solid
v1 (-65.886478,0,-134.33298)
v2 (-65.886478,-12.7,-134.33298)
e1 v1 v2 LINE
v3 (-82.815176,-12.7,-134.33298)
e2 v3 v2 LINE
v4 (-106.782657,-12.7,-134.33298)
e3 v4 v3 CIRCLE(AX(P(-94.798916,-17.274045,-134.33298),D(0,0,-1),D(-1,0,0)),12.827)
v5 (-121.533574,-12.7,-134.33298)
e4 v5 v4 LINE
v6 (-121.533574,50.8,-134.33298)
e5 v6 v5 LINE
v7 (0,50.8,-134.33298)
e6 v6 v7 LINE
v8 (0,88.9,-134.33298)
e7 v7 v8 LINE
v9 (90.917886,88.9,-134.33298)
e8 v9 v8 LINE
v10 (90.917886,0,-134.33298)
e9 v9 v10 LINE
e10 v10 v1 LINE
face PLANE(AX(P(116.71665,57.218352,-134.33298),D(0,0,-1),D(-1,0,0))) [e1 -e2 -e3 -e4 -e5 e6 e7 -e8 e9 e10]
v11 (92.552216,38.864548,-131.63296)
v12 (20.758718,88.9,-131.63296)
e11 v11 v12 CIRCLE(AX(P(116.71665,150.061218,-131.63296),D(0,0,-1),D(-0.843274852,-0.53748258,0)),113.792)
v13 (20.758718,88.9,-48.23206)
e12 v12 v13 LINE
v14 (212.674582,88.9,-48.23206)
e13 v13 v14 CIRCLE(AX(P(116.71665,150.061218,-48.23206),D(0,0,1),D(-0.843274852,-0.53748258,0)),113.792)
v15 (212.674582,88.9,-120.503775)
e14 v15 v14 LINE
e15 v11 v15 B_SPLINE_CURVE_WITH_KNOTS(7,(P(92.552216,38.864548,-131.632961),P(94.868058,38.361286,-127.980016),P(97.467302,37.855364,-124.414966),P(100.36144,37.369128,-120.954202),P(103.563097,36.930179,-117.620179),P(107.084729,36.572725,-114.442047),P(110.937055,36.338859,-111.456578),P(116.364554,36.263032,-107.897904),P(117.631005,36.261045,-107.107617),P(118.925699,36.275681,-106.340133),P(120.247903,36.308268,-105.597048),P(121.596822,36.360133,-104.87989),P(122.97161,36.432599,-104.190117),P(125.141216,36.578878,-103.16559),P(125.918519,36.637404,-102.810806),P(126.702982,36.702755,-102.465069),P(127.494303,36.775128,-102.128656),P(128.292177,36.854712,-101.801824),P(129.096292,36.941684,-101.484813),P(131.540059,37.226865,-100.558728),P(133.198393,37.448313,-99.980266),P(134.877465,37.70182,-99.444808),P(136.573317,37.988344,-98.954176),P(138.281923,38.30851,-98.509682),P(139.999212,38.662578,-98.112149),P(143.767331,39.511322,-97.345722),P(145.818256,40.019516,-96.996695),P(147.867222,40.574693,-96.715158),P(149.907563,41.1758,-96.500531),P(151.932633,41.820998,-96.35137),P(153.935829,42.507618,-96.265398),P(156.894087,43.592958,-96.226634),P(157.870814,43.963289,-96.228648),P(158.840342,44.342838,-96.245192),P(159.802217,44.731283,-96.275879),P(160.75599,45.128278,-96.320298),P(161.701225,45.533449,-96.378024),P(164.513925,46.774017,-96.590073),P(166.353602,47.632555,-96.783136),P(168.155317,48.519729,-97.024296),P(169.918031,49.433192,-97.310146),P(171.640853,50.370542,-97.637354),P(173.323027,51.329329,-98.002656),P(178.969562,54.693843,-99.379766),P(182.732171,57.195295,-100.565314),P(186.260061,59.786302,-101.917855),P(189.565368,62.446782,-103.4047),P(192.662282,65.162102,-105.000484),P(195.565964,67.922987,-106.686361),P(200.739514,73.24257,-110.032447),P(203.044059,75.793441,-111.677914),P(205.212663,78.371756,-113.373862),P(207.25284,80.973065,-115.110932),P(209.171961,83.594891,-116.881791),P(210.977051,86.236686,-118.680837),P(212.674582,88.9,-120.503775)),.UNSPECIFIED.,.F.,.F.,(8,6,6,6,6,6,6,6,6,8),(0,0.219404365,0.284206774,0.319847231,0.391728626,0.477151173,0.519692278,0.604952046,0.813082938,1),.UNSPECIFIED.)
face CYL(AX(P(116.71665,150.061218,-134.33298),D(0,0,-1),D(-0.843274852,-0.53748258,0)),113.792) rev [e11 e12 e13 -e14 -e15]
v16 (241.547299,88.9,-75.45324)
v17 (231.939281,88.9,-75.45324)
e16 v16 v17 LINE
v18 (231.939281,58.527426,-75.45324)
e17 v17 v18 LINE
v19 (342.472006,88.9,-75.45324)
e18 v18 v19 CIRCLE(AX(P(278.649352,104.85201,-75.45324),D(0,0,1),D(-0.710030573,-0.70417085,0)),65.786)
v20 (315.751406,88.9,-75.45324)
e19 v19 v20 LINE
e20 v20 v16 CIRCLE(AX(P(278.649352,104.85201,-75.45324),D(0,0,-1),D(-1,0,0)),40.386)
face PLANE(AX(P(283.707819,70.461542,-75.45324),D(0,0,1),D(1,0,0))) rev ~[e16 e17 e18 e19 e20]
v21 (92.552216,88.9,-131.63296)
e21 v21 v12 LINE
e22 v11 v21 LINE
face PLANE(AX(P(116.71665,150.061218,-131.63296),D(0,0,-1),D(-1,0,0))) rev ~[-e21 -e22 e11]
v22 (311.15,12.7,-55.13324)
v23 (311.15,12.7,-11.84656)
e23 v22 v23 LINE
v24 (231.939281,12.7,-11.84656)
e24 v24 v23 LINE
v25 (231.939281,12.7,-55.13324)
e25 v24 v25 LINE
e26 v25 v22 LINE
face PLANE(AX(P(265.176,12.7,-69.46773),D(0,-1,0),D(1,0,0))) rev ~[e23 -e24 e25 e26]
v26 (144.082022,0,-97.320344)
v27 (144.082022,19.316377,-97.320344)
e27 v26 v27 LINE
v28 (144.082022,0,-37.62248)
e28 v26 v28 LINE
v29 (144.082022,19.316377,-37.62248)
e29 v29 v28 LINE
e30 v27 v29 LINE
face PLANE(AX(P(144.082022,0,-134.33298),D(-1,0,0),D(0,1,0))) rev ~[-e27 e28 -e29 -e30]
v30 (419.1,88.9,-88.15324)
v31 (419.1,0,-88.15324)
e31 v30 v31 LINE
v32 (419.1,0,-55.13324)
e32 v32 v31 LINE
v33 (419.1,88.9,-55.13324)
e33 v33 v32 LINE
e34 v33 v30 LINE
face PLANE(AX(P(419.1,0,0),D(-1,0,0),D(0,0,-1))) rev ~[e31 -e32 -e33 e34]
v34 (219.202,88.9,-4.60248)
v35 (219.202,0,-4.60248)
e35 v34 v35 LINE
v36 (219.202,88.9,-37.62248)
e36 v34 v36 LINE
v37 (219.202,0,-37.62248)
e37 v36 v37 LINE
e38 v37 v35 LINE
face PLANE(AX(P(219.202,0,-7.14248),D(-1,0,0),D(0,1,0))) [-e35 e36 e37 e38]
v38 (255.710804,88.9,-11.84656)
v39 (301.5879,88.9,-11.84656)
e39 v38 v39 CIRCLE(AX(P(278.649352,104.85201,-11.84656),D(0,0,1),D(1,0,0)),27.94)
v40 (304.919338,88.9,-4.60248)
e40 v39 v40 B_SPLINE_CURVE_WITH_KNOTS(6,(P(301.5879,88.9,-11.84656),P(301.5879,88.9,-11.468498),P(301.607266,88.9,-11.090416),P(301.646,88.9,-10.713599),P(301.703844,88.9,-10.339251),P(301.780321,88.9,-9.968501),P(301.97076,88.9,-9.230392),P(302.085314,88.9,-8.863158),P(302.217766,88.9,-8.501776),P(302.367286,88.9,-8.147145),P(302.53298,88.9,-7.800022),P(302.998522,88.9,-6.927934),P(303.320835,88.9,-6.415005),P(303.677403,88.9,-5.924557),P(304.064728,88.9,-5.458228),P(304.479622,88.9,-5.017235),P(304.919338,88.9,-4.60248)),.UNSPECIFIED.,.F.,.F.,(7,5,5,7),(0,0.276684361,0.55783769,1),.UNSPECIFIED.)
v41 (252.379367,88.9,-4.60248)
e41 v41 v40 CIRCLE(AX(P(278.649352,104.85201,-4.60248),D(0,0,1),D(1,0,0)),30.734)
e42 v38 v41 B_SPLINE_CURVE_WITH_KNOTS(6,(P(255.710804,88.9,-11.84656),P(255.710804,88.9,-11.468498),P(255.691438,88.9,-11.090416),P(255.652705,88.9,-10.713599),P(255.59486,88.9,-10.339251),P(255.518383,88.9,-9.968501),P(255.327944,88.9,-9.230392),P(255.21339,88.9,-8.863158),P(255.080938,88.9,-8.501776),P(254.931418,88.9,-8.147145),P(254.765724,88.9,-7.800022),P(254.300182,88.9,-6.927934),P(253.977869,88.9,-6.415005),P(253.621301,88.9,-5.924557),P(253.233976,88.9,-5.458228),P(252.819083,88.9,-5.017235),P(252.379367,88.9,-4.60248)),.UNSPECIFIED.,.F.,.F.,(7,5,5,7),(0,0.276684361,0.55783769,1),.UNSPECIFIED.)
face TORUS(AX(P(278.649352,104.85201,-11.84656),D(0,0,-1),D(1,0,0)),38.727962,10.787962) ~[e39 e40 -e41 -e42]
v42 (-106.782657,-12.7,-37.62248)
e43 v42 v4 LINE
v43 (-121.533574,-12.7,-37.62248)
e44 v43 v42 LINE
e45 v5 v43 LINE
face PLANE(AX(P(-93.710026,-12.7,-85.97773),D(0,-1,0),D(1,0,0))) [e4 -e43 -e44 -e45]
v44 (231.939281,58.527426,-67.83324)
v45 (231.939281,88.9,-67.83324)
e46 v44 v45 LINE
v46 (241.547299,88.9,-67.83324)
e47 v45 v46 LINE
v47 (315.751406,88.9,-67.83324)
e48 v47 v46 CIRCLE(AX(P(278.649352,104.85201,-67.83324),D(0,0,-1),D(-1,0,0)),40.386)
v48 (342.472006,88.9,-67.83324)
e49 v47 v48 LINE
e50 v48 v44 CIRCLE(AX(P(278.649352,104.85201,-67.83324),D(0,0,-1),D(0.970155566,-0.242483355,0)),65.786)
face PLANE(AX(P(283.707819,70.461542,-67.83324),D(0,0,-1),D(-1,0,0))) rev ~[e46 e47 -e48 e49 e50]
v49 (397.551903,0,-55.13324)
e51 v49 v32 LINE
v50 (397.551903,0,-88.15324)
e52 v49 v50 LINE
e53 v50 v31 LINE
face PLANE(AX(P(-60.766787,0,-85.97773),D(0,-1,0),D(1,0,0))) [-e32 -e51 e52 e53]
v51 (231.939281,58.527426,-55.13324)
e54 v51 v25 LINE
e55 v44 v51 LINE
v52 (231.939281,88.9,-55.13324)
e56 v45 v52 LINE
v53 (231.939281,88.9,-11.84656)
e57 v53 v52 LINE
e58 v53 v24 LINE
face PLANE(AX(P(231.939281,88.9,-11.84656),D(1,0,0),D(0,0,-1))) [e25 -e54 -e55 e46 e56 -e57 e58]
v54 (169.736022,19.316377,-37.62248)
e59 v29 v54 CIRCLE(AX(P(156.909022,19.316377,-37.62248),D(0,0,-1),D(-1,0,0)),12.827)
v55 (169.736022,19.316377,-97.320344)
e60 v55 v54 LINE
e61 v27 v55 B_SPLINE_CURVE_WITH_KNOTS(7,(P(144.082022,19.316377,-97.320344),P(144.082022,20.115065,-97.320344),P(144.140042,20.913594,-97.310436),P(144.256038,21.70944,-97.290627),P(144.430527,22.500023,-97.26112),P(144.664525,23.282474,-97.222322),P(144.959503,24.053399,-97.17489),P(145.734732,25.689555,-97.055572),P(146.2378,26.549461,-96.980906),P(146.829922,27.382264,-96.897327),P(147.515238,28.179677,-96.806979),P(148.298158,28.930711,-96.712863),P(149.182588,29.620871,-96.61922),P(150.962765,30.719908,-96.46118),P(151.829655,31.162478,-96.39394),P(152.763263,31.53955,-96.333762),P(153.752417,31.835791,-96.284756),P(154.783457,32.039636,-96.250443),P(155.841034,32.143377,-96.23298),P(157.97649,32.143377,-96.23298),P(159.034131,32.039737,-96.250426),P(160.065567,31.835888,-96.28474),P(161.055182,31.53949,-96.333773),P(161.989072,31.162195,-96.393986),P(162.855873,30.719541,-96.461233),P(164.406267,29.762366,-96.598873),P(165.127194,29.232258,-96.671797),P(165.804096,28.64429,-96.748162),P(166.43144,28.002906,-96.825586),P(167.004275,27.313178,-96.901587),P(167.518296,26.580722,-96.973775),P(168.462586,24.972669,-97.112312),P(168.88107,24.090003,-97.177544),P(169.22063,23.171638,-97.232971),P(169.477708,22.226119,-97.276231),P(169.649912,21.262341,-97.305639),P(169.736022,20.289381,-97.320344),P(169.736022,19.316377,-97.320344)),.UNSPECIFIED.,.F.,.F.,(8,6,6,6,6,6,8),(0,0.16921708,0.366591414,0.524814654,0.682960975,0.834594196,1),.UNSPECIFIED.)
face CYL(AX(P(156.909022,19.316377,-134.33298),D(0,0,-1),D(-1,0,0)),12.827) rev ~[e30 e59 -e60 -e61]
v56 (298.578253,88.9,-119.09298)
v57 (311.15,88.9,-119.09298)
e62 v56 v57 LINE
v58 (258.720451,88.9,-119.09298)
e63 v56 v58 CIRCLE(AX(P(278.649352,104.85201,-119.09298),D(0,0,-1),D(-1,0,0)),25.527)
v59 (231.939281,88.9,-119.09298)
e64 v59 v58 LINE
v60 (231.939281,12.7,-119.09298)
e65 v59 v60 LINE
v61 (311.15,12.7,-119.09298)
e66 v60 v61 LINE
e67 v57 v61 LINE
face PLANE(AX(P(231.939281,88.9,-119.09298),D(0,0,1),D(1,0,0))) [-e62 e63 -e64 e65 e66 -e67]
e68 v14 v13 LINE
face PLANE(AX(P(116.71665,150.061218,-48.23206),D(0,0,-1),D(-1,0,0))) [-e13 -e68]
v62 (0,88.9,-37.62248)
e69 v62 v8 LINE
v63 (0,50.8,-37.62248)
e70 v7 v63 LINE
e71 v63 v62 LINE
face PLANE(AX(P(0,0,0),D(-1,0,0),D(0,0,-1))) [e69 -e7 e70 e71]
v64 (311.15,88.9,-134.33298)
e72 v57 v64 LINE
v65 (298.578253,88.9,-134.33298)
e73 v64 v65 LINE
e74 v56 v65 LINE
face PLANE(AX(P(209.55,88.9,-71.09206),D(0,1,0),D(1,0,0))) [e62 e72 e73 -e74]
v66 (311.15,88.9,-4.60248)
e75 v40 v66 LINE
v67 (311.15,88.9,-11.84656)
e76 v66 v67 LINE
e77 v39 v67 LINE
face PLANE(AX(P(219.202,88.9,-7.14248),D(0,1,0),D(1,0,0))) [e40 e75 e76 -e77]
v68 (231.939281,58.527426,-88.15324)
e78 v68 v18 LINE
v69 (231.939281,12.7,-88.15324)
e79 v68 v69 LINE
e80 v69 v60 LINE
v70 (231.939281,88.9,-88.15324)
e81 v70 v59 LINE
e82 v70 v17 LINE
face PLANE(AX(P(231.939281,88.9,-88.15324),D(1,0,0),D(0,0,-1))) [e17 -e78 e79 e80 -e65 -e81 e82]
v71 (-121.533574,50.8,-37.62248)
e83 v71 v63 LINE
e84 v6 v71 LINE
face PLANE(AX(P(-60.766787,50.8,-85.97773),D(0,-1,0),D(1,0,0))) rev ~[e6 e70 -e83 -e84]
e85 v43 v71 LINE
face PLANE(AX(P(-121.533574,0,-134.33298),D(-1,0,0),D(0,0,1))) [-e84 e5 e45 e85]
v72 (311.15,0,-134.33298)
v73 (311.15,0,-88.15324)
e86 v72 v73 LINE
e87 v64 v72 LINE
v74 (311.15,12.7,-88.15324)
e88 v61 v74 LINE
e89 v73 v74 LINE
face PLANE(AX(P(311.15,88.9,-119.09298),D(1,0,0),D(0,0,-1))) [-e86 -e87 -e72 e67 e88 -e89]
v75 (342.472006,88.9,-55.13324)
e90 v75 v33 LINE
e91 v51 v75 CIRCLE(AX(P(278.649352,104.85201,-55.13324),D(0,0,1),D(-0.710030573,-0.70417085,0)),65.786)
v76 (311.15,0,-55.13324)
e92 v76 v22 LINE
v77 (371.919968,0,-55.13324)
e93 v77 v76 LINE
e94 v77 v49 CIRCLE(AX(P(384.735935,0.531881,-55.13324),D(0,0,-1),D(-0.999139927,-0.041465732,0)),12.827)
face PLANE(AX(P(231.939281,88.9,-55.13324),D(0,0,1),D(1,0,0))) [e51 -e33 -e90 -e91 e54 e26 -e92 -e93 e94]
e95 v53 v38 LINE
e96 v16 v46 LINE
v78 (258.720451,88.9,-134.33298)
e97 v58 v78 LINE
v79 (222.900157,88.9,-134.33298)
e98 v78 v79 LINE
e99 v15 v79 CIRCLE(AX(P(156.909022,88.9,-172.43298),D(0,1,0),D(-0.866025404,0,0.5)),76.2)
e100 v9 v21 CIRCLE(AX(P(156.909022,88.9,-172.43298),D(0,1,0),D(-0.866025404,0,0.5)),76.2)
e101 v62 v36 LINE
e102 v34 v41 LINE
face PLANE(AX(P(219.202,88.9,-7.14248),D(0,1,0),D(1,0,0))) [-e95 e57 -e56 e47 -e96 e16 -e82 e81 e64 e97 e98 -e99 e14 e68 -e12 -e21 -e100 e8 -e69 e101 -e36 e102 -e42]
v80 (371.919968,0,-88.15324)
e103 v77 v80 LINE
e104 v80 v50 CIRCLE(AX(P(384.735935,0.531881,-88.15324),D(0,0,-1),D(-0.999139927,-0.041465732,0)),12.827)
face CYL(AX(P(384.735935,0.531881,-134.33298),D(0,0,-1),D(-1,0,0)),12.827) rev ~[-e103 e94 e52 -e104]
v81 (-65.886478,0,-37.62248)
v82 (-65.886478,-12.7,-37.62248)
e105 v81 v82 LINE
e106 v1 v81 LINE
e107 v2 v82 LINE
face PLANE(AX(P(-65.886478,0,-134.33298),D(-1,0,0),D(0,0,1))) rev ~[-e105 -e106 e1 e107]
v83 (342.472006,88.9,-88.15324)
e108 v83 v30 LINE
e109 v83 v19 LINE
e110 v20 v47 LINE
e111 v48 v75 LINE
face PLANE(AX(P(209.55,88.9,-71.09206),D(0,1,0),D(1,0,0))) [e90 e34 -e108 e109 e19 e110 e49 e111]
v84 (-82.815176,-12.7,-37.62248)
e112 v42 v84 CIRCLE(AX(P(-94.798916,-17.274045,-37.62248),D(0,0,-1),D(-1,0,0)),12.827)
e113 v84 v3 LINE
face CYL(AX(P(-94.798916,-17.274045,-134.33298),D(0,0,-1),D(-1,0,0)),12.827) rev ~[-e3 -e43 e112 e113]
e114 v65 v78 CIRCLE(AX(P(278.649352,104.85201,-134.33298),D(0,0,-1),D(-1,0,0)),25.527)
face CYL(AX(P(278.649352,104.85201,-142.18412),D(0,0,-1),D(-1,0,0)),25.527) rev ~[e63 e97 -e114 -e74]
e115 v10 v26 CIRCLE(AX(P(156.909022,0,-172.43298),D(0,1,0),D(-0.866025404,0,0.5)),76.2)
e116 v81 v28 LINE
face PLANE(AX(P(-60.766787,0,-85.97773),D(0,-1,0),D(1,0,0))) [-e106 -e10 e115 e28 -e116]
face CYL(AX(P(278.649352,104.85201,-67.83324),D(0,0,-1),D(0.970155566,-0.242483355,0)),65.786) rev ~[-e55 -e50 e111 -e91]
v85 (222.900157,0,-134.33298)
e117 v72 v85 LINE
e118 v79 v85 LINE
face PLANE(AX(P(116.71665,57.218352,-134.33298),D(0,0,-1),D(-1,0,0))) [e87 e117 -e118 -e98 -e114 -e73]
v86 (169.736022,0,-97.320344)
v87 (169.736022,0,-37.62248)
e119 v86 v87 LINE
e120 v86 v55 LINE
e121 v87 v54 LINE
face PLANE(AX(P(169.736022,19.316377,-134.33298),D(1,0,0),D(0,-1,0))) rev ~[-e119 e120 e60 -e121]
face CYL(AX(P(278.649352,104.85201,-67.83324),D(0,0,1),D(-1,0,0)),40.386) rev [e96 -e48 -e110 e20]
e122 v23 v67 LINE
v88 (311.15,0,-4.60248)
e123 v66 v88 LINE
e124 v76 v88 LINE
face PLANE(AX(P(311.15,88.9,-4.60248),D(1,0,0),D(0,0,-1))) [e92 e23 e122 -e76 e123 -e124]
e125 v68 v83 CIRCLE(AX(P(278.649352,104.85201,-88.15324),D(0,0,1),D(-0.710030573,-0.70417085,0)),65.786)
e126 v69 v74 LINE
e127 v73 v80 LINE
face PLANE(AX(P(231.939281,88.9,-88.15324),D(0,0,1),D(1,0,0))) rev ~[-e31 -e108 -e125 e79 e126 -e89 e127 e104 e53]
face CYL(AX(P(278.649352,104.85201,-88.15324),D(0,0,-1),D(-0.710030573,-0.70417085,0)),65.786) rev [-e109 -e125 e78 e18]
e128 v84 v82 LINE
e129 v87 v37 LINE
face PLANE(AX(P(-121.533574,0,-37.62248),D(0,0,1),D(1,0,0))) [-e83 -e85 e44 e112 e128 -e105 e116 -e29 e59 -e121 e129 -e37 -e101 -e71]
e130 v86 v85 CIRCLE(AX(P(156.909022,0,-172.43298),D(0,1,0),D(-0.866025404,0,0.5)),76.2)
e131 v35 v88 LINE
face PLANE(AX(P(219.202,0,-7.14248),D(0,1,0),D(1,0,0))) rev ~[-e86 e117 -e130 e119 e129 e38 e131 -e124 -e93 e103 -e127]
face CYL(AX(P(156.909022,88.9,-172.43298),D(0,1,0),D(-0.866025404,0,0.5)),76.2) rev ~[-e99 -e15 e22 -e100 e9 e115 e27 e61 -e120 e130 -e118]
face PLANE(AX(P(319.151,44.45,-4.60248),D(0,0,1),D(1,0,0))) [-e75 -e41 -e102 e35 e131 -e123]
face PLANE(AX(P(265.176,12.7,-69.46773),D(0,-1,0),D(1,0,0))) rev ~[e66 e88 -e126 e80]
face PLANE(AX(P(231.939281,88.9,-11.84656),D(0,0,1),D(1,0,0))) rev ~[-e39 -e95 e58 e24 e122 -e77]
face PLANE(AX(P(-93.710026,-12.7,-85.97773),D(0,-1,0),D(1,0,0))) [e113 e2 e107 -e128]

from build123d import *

# Parameters (mm, degrees)
SKETCH1_W           = 419.1
SKETCH1_H           = 142.18412
BOSS_EXTRUDE1_DEPTH = 88.9
SKETCH2_R           = 119.38
CUT_EXTRUDE1_DEPTH  = 83.4009
SKETCH7_W           = 187.160719179
SKETCH7_H           = 30.93974
SKETCH7_H_2         = 43.28668
CUT_EXTRUDE2_DEPTH  = 452.402640644
SKETCH4_R           = 40.386
CUT_EXTRUDE4_DEPTH  = 7.62
CUT_EXTRUDE17_START = -12.7
CUT_EXTRUDE17_DEPTH = 12.7
CUT_EXTRUDE18_DEPTH = 12.7
SKETCH18_R          = 25.527
CUT_EXTRUDE11_DEPTH = 23.09114
SKETCH8_W           = 419.1
SKETCH8_H           = 88.9
CUT_EXTRUDE6_DEPTH  = 7.85114
SKETCH9_W           = 419.1
SKETCH9_H           = 88.9
CUT_EXTRUDE7_DEPTH  = 7.14248
SKETCH10_W          = 219.202
SKETCH10_H          = 88.9
CUT_EXTRUDE8_DEPTH  = 30.48
SKETCH12_W          = 121.533574186
SKETCH12_H          = 96.7105
BOSS_EXTRUDE2_DEPTH = 50.8
SKETCH14_W          = 55.647095764
SKETCH14_H          = 96.7105
BOSS_EXTRUDE3_DEPTH = 12.7
CUT_EXTRUDE10_REACH = 448.907
SKETCH17_R          = 12.827
SKETCH22_W          = 199.898
SKETCH22_H          = 88.9
BOSS_EXTRUDE5_DEPTH = 2.54
SKETCH29_R          = 12.827
CUT_EXTRUDE14_DEPTH = 447.906526346
BOSS_EXTRUDE6_DEPTH = 86.10092
SKETCH45_W          = 107.95
SKETCH45_H          = 50.53076
SKETCH45_H_2        = 15.24
CUT_EXTRUDE22_DEPTH = 452.677672269
SKETCH46_W          = 91.948
SKETCH46_H          = 129.7305
BOSS_EXTRUDE7_DEPTH = 12.7
CUT_EXTRUDE23_DEPTH = 452.677672176


with BuildPart() as part:
    # Sketch1 → Boss-Extrude1 (new body)
    with BuildSketch(Plane(origin=(0, 0, 0), x_dir=(1, 0, 0), z_dir=(0, 1, 0))):
        with Locations((209.55, 71.09206)):
            Rectangle(SKETCH1_W, SKETCH1_H)
    extrude(amount=BOSS_EXTRUDE1_DEPTH)

    # Sketch2 → Cut-Extrude1 (cut)
    with BuildSketch(Plane(origin=(0, 0, -131.63296), x_dir=(-1, 0, 0), z_dir=(0, 0, -1))):
        with Locations((-116.7166499, 150.061217688)):
            Circle(SKETCH2_R)
    extrude(amount=-CUT_EXTRUDE1_DEPTH, mode=Mode.SUBTRACT)

    # Sketch7 → Cut-Extrude2 (cut, through all)
    with BuildSketch(Plane(origin=(0, 88.9, 0), x_dir=(1, 0, 0), z_dir=(0, 1, 0))):
        with Locations((325.519640411, 103.62311)):
            Rectangle(SKETCH7_W, SKETCH7_H)
        with Locations((325.519640411, 33.4899)):
            Rectangle(SKETCH7_W, SKETCH7_H_2)
    extrude(amount=-CUT_EXTRUDE2_DEPTH, mode=Mode.SUBTRACT)

    # Sketch4 → Cut-Extrude4 (cut)
    with BuildSketch(Plane(origin=(0, 0, -67.83324), x_dir=(-1, 0, 0), z_dir=(0, 0, -1))):
        with Locations((-278.649352085, 104.852009966)):
            Circle(SKETCH4_R)
    extrude(amount=CUT_EXTRUDE4_DEPTH, mode=Mode.SUBTRACT)

    # Sketch39 → Cut-Extrude17 (cut)
    with BuildSketch(Plane.XY.offset(-55.13324).offset(CUT_EXTRUDE17_START)):
        with BuildLine():
            Line((231.939280821, 58.527426444), (231.939280821, 88.9))
            Line((231.939280821, 88.9), (342.472006166, 88.9))
            ThreePointArc((342.472006166, 88.9), (296.080170447, 41.417284719), (231.939280821, 58.527426444))
        make_face()
    extrude(amount=CUT_EXTRUDE17_DEPTH, mode=Mode.SUBTRACT)

    # Sketch40 → Cut-Extrude18 (cut)
    with BuildSketch(Plane(origin=(0, 0, -88.15324), x_dir=(-1, 0, 0), z_dir=(0, 0, -1))):
        with BuildLine():
            Line((-231.939280821, 88.9), (-231.939280821, 58.527426444))
            ThreePointArc((-231.939280821, 58.527426444), (-296.080170447, 41.417284719), (-342.472006166, 88.9))
            Line((-342.472006166, 88.9), (-231.939280821, 88.9))
        make_face()
    extrude(amount=-CUT_EXTRUDE18_DEPTH, mode=Mode.SUBTRACT)

    # Sketch18 → Cut-Extrude11 (cut)
    with BuildSketch(Plane(origin=(0, 0, -142.18412), x_dir=(-1, 0, 0), z_dir=(0, 0, -1))):
        with Locations((-278.649352085, 104.852009966)):
            Circle(SKETCH18_R)
    extrude(amount=-CUT_EXTRUDE11_DEPTH, mode=Mode.SUBTRACT)

    # Sketch8 → Cut-Extrude6 (cut)
    with BuildSketch(Plane(origin=(0, 0, -142.18412), x_dir=(-1, 0, 0), z_dir=(0, 0, -1))):
        with Locations((-209.55, 44.45)):
            Rectangle(SKETCH8_W, SKETCH8_H)
    extrude(amount=-CUT_EXTRUDE6_DEPTH, mode=Mode.SUBTRACT)

    # Sketch9 → Cut-Extrude7 (cut)
    with BuildSketch(Plane.XY):
        with Locations((209.55, 44.45)):
            Rectangle(SKETCH9_W, SKETCH9_H)
    extrude(amount=-CUT_EXTRUDE7_DEPTH, mode=Mode.SUBTRACT)

    # Sketch10 → Cut-Extrude8 (cut)
    with BuildSketch(Plane.XY.offset(-7.14248)):
        with Locations((109.601, 44.45)):
            Rectangle(SKETCH10_W, SKETCH10_H)
    extrude(amount=-CUT_EXTRUDE8_DEPTH, mode=Mode.SUBTRACT)

    # Sketch12 → Boss-Extrude2 (add)
    with BuildSketch(Plane.XZ):
        with Locations((-60.766787093, -85.97773)):
            Rectangle(SKETCH12_W, SKETCH12_H)
    extrude(amount=-BOSS_EXTRUDE2_DEPTH)

    # Sketch14 → Boss-Extrude3 (add)
    with BuildSketch(Plane.XZ):
        with Locations((-93.710026304, -85.97773)):
            Rectangle(SKETCH14_W, SKETCH14_H)
    extrude(amount=BOSS_EXTRUDE3_DEPTH)

    # Cut-Extrude10: up to this face of the body (flat: up to its plane)
    cut_extrude10_end = Plane(part.part.faces().sort_by_distance((319.151, 44.45, -7.14248))[0])
    # Sketch17 → Cut-Extrude10 (cut, up to the picked face)
    with BuildSketch(Plane(origin=(0, 0, -134.33298), x_dir=(-1, 0, 0), z_dir=(0, 0, -1)), mode=Mode.PRIVATE) as cut_extrude10_sk1:
        with Locations((-384.735935495, 0.531880938)):
            Circle(SKETCH17_R)
    cut_extrude10_tool1 = split(extrude(cut_extrude10_sk1.sketch, amount=-CUT_EXTRUDE10_REACH, mode=Mode.PRIVATE), bisect_by=cut_extrude10_end, keep=Keep.BOTH, mode=Mode.PRIVATE)
    # Sketch17 → Cut-Extrude10 (cut, up to the picked face)
    with BuildSketch(Plane(origin=(0, 0, -134.33298), x_dir=(-1, 0, 0), z_dir=(0, 0, -1)), mode=Mode.PRIVATE) as cut_extrude10_sk2:
        with Locations((94.798916194, -17.274045482)):
            Circle(SKETCH17_R)
    cut_extrude10_tool2 = split(extrude(cut_extrude10_sk2.sketch, amount=-CUT_EXTRUDE10_REACH, mode=Mode.PRIVATE), bisect_by=cut_extrude10_end, keep=Keep.BOTH, mode=Mode.PRIVATE)
    # Sketch17 → Cut-Extrude10 (cut, up to the picked face)
    with BuildSketch(Plane(origin=(0, 0, -134.33298), x_dir=(-1, 0, 0), z_dir=(0, 0, -1)), mode=Mode.PRIVATE) as cut_extrude10_sk3:
        with BuildLine():
            Line((-169.736021607, 19.31637742), (-169.736021607, 0))
            Line((-169.736021607, 0), (-144.082021607, 0))
            Line((-144.082021607, 0), (-144.082021607, 19.31637742))
            ThreePointArc((-144.082021607, 19.31637742), (-156.909021607, 32.14337742), (-169.736021607, 19.31637742))
        make_face()
    cut_extrude10_tool3 = split(extrude(cut_extrude10_sk3.sketch, amount=-CUT_EXTRUDE10_REACH, mode=Mode.PRIVATE), bisect_by=cut_extrude10_end, keep=Keep.BOTH, mode=Mode.PRIVATE)
    add(cut_extrude10_tool1.solids().sort_by(Axis((384.735935, 0.531881, -134.33298), (0, 0, 1)))[0], mode=Mode.SUBTRACT)
    add(cut_extrude10_tool2.solids().sort_by(Axis((-94.798916, -17.274045, -134.33298), (0, 0, 1)))[0], mode=Mode.SUBTRACT)
    add(cut_extrude10_tool3.solids().sort_by(Axis((156.909022, 14.834778, -134.33298), (0, 0, 1)))[0], mode=Mode.SUBTRACT)

    # Sketch22 → Boss-Extrude5 (add)
    with BuildSketch(Plane.XY.offset(-7.14248)):
        with Locations((319.151, 44.45)):
            Rectangle(SKETCH22_W, SKETCH22_H)
    extrude(amount=BOSS_EXTRUDE5_DEPTH)

    # Sketch29 → Cut-Extrude14 (cut, through all)
    with BuildSketch(Plane(origin=(0, 0, -7.14248), x_dir=(-1, 0, 0), z_dir=(0, 0, -1))):
        with Locations((-384.735935495, 0.531880938)):
            Circle(SKETCH29_R)
    extrude(amount=-CUT_EXTRUDE14_DEPTH, mode=Mode.SUBTRACT)

    # Sketch30 → Boss-Extrude6 (add)
    with BuildSketch(Plane(origin=(0, 0, -134.33298), x_dir=(-1, 0, 0), z_dir=(0, 0, -1))):
        with BuildLine():
            Line((-14.194018979, 88.9), (-20.758717893, 88.9))
            ThreePointArc((-20.758717893, 88.9), (-116.7166499, 36.269217688), (-212.674581906, 88.9))
            Line((-212.674581906, 88.9), (-219.239280821, 88.9))
            ThreePointArc((-219.239280821, 88.9), (-116.7166499, 30.681217688), (-14.194018979, 88.9))
        make_face()
    extrude(amount=-BOSS_EXTRUDE6_DEPTH)

    # Sketch44 → Cut-Revolve1 (revolve, cut)
    with BuildSketch(Plane(origin=(0, 104.852009966, 0), x_dir=(1, 0, 0), z_dir=(0, 1, 0))):
        with BuildLine():
            Line((278.649352085, 11.84656), (306.589352085, 11.84656))
            ThreePointArc((306.589352085, 11.84656), (307.31205993, 7.964449393), (309.383352085, 4.60248))
            Line((309.383352085, 4.60248), (278.649352085, 4.60248))
            Line((278.649352085, 4.60248), (278.649352085, 11.84656))
        make_face()
    revolve(axis=Axis((278.649352085, 104.852009966, -328.456473898), (0, 0, 1)), mode=Mode.SUBTRACT)

    # Sketch45 → Cut-Extrude22 (cut, through all)
    with BuildSketch(Plane(origin=(0, 88.9, 0), x_dir=(1, 0, 0), z_dir=(0, 1, 0))):
        with Locations((365.125, 29.86786)):
            Rectangle(SKETCH45_W, SKETCH45_H)
        with Locations((365.125, 126.71298)):
            Rectangle(SKETCH45_W, SKETCH45_H_2)
    extrude(amount=-CUT_EXTRUDE22_DEPTH, mode=Mode.SUBTRACT)

    # Sketch46 → Boss-Extrude7 (add)
    with BuildSketch(Plane.XZ):
        with Locations((265.176, -69.46773)):
            Rectangle(SKETCH46_W, SKETCH46_H)
    extrude(amount=-BOSS_EXTRUDE7_DEPTH)

    # Sketch47 → Cut-Extrude23 (cut, through all)
    with BuildSketch(Plane(origin=(0, 88.9, 0), x_dir=(1, 0, 0), z_dir=(0, 1, 0))):
        with BuildLine():
            Line((222.900157375, 134.33298), (90.917885838, 134.33298))
            ThreePointArc((90.917885838, 134.33298), (156.909021607, 96.23298), (222.900157375, 134.33298))
        make_face()
    extrude(amount=-CUT_EXTRUDE23_DEPTH, mode=Mode.SUBTRACT)


solid = part.part
